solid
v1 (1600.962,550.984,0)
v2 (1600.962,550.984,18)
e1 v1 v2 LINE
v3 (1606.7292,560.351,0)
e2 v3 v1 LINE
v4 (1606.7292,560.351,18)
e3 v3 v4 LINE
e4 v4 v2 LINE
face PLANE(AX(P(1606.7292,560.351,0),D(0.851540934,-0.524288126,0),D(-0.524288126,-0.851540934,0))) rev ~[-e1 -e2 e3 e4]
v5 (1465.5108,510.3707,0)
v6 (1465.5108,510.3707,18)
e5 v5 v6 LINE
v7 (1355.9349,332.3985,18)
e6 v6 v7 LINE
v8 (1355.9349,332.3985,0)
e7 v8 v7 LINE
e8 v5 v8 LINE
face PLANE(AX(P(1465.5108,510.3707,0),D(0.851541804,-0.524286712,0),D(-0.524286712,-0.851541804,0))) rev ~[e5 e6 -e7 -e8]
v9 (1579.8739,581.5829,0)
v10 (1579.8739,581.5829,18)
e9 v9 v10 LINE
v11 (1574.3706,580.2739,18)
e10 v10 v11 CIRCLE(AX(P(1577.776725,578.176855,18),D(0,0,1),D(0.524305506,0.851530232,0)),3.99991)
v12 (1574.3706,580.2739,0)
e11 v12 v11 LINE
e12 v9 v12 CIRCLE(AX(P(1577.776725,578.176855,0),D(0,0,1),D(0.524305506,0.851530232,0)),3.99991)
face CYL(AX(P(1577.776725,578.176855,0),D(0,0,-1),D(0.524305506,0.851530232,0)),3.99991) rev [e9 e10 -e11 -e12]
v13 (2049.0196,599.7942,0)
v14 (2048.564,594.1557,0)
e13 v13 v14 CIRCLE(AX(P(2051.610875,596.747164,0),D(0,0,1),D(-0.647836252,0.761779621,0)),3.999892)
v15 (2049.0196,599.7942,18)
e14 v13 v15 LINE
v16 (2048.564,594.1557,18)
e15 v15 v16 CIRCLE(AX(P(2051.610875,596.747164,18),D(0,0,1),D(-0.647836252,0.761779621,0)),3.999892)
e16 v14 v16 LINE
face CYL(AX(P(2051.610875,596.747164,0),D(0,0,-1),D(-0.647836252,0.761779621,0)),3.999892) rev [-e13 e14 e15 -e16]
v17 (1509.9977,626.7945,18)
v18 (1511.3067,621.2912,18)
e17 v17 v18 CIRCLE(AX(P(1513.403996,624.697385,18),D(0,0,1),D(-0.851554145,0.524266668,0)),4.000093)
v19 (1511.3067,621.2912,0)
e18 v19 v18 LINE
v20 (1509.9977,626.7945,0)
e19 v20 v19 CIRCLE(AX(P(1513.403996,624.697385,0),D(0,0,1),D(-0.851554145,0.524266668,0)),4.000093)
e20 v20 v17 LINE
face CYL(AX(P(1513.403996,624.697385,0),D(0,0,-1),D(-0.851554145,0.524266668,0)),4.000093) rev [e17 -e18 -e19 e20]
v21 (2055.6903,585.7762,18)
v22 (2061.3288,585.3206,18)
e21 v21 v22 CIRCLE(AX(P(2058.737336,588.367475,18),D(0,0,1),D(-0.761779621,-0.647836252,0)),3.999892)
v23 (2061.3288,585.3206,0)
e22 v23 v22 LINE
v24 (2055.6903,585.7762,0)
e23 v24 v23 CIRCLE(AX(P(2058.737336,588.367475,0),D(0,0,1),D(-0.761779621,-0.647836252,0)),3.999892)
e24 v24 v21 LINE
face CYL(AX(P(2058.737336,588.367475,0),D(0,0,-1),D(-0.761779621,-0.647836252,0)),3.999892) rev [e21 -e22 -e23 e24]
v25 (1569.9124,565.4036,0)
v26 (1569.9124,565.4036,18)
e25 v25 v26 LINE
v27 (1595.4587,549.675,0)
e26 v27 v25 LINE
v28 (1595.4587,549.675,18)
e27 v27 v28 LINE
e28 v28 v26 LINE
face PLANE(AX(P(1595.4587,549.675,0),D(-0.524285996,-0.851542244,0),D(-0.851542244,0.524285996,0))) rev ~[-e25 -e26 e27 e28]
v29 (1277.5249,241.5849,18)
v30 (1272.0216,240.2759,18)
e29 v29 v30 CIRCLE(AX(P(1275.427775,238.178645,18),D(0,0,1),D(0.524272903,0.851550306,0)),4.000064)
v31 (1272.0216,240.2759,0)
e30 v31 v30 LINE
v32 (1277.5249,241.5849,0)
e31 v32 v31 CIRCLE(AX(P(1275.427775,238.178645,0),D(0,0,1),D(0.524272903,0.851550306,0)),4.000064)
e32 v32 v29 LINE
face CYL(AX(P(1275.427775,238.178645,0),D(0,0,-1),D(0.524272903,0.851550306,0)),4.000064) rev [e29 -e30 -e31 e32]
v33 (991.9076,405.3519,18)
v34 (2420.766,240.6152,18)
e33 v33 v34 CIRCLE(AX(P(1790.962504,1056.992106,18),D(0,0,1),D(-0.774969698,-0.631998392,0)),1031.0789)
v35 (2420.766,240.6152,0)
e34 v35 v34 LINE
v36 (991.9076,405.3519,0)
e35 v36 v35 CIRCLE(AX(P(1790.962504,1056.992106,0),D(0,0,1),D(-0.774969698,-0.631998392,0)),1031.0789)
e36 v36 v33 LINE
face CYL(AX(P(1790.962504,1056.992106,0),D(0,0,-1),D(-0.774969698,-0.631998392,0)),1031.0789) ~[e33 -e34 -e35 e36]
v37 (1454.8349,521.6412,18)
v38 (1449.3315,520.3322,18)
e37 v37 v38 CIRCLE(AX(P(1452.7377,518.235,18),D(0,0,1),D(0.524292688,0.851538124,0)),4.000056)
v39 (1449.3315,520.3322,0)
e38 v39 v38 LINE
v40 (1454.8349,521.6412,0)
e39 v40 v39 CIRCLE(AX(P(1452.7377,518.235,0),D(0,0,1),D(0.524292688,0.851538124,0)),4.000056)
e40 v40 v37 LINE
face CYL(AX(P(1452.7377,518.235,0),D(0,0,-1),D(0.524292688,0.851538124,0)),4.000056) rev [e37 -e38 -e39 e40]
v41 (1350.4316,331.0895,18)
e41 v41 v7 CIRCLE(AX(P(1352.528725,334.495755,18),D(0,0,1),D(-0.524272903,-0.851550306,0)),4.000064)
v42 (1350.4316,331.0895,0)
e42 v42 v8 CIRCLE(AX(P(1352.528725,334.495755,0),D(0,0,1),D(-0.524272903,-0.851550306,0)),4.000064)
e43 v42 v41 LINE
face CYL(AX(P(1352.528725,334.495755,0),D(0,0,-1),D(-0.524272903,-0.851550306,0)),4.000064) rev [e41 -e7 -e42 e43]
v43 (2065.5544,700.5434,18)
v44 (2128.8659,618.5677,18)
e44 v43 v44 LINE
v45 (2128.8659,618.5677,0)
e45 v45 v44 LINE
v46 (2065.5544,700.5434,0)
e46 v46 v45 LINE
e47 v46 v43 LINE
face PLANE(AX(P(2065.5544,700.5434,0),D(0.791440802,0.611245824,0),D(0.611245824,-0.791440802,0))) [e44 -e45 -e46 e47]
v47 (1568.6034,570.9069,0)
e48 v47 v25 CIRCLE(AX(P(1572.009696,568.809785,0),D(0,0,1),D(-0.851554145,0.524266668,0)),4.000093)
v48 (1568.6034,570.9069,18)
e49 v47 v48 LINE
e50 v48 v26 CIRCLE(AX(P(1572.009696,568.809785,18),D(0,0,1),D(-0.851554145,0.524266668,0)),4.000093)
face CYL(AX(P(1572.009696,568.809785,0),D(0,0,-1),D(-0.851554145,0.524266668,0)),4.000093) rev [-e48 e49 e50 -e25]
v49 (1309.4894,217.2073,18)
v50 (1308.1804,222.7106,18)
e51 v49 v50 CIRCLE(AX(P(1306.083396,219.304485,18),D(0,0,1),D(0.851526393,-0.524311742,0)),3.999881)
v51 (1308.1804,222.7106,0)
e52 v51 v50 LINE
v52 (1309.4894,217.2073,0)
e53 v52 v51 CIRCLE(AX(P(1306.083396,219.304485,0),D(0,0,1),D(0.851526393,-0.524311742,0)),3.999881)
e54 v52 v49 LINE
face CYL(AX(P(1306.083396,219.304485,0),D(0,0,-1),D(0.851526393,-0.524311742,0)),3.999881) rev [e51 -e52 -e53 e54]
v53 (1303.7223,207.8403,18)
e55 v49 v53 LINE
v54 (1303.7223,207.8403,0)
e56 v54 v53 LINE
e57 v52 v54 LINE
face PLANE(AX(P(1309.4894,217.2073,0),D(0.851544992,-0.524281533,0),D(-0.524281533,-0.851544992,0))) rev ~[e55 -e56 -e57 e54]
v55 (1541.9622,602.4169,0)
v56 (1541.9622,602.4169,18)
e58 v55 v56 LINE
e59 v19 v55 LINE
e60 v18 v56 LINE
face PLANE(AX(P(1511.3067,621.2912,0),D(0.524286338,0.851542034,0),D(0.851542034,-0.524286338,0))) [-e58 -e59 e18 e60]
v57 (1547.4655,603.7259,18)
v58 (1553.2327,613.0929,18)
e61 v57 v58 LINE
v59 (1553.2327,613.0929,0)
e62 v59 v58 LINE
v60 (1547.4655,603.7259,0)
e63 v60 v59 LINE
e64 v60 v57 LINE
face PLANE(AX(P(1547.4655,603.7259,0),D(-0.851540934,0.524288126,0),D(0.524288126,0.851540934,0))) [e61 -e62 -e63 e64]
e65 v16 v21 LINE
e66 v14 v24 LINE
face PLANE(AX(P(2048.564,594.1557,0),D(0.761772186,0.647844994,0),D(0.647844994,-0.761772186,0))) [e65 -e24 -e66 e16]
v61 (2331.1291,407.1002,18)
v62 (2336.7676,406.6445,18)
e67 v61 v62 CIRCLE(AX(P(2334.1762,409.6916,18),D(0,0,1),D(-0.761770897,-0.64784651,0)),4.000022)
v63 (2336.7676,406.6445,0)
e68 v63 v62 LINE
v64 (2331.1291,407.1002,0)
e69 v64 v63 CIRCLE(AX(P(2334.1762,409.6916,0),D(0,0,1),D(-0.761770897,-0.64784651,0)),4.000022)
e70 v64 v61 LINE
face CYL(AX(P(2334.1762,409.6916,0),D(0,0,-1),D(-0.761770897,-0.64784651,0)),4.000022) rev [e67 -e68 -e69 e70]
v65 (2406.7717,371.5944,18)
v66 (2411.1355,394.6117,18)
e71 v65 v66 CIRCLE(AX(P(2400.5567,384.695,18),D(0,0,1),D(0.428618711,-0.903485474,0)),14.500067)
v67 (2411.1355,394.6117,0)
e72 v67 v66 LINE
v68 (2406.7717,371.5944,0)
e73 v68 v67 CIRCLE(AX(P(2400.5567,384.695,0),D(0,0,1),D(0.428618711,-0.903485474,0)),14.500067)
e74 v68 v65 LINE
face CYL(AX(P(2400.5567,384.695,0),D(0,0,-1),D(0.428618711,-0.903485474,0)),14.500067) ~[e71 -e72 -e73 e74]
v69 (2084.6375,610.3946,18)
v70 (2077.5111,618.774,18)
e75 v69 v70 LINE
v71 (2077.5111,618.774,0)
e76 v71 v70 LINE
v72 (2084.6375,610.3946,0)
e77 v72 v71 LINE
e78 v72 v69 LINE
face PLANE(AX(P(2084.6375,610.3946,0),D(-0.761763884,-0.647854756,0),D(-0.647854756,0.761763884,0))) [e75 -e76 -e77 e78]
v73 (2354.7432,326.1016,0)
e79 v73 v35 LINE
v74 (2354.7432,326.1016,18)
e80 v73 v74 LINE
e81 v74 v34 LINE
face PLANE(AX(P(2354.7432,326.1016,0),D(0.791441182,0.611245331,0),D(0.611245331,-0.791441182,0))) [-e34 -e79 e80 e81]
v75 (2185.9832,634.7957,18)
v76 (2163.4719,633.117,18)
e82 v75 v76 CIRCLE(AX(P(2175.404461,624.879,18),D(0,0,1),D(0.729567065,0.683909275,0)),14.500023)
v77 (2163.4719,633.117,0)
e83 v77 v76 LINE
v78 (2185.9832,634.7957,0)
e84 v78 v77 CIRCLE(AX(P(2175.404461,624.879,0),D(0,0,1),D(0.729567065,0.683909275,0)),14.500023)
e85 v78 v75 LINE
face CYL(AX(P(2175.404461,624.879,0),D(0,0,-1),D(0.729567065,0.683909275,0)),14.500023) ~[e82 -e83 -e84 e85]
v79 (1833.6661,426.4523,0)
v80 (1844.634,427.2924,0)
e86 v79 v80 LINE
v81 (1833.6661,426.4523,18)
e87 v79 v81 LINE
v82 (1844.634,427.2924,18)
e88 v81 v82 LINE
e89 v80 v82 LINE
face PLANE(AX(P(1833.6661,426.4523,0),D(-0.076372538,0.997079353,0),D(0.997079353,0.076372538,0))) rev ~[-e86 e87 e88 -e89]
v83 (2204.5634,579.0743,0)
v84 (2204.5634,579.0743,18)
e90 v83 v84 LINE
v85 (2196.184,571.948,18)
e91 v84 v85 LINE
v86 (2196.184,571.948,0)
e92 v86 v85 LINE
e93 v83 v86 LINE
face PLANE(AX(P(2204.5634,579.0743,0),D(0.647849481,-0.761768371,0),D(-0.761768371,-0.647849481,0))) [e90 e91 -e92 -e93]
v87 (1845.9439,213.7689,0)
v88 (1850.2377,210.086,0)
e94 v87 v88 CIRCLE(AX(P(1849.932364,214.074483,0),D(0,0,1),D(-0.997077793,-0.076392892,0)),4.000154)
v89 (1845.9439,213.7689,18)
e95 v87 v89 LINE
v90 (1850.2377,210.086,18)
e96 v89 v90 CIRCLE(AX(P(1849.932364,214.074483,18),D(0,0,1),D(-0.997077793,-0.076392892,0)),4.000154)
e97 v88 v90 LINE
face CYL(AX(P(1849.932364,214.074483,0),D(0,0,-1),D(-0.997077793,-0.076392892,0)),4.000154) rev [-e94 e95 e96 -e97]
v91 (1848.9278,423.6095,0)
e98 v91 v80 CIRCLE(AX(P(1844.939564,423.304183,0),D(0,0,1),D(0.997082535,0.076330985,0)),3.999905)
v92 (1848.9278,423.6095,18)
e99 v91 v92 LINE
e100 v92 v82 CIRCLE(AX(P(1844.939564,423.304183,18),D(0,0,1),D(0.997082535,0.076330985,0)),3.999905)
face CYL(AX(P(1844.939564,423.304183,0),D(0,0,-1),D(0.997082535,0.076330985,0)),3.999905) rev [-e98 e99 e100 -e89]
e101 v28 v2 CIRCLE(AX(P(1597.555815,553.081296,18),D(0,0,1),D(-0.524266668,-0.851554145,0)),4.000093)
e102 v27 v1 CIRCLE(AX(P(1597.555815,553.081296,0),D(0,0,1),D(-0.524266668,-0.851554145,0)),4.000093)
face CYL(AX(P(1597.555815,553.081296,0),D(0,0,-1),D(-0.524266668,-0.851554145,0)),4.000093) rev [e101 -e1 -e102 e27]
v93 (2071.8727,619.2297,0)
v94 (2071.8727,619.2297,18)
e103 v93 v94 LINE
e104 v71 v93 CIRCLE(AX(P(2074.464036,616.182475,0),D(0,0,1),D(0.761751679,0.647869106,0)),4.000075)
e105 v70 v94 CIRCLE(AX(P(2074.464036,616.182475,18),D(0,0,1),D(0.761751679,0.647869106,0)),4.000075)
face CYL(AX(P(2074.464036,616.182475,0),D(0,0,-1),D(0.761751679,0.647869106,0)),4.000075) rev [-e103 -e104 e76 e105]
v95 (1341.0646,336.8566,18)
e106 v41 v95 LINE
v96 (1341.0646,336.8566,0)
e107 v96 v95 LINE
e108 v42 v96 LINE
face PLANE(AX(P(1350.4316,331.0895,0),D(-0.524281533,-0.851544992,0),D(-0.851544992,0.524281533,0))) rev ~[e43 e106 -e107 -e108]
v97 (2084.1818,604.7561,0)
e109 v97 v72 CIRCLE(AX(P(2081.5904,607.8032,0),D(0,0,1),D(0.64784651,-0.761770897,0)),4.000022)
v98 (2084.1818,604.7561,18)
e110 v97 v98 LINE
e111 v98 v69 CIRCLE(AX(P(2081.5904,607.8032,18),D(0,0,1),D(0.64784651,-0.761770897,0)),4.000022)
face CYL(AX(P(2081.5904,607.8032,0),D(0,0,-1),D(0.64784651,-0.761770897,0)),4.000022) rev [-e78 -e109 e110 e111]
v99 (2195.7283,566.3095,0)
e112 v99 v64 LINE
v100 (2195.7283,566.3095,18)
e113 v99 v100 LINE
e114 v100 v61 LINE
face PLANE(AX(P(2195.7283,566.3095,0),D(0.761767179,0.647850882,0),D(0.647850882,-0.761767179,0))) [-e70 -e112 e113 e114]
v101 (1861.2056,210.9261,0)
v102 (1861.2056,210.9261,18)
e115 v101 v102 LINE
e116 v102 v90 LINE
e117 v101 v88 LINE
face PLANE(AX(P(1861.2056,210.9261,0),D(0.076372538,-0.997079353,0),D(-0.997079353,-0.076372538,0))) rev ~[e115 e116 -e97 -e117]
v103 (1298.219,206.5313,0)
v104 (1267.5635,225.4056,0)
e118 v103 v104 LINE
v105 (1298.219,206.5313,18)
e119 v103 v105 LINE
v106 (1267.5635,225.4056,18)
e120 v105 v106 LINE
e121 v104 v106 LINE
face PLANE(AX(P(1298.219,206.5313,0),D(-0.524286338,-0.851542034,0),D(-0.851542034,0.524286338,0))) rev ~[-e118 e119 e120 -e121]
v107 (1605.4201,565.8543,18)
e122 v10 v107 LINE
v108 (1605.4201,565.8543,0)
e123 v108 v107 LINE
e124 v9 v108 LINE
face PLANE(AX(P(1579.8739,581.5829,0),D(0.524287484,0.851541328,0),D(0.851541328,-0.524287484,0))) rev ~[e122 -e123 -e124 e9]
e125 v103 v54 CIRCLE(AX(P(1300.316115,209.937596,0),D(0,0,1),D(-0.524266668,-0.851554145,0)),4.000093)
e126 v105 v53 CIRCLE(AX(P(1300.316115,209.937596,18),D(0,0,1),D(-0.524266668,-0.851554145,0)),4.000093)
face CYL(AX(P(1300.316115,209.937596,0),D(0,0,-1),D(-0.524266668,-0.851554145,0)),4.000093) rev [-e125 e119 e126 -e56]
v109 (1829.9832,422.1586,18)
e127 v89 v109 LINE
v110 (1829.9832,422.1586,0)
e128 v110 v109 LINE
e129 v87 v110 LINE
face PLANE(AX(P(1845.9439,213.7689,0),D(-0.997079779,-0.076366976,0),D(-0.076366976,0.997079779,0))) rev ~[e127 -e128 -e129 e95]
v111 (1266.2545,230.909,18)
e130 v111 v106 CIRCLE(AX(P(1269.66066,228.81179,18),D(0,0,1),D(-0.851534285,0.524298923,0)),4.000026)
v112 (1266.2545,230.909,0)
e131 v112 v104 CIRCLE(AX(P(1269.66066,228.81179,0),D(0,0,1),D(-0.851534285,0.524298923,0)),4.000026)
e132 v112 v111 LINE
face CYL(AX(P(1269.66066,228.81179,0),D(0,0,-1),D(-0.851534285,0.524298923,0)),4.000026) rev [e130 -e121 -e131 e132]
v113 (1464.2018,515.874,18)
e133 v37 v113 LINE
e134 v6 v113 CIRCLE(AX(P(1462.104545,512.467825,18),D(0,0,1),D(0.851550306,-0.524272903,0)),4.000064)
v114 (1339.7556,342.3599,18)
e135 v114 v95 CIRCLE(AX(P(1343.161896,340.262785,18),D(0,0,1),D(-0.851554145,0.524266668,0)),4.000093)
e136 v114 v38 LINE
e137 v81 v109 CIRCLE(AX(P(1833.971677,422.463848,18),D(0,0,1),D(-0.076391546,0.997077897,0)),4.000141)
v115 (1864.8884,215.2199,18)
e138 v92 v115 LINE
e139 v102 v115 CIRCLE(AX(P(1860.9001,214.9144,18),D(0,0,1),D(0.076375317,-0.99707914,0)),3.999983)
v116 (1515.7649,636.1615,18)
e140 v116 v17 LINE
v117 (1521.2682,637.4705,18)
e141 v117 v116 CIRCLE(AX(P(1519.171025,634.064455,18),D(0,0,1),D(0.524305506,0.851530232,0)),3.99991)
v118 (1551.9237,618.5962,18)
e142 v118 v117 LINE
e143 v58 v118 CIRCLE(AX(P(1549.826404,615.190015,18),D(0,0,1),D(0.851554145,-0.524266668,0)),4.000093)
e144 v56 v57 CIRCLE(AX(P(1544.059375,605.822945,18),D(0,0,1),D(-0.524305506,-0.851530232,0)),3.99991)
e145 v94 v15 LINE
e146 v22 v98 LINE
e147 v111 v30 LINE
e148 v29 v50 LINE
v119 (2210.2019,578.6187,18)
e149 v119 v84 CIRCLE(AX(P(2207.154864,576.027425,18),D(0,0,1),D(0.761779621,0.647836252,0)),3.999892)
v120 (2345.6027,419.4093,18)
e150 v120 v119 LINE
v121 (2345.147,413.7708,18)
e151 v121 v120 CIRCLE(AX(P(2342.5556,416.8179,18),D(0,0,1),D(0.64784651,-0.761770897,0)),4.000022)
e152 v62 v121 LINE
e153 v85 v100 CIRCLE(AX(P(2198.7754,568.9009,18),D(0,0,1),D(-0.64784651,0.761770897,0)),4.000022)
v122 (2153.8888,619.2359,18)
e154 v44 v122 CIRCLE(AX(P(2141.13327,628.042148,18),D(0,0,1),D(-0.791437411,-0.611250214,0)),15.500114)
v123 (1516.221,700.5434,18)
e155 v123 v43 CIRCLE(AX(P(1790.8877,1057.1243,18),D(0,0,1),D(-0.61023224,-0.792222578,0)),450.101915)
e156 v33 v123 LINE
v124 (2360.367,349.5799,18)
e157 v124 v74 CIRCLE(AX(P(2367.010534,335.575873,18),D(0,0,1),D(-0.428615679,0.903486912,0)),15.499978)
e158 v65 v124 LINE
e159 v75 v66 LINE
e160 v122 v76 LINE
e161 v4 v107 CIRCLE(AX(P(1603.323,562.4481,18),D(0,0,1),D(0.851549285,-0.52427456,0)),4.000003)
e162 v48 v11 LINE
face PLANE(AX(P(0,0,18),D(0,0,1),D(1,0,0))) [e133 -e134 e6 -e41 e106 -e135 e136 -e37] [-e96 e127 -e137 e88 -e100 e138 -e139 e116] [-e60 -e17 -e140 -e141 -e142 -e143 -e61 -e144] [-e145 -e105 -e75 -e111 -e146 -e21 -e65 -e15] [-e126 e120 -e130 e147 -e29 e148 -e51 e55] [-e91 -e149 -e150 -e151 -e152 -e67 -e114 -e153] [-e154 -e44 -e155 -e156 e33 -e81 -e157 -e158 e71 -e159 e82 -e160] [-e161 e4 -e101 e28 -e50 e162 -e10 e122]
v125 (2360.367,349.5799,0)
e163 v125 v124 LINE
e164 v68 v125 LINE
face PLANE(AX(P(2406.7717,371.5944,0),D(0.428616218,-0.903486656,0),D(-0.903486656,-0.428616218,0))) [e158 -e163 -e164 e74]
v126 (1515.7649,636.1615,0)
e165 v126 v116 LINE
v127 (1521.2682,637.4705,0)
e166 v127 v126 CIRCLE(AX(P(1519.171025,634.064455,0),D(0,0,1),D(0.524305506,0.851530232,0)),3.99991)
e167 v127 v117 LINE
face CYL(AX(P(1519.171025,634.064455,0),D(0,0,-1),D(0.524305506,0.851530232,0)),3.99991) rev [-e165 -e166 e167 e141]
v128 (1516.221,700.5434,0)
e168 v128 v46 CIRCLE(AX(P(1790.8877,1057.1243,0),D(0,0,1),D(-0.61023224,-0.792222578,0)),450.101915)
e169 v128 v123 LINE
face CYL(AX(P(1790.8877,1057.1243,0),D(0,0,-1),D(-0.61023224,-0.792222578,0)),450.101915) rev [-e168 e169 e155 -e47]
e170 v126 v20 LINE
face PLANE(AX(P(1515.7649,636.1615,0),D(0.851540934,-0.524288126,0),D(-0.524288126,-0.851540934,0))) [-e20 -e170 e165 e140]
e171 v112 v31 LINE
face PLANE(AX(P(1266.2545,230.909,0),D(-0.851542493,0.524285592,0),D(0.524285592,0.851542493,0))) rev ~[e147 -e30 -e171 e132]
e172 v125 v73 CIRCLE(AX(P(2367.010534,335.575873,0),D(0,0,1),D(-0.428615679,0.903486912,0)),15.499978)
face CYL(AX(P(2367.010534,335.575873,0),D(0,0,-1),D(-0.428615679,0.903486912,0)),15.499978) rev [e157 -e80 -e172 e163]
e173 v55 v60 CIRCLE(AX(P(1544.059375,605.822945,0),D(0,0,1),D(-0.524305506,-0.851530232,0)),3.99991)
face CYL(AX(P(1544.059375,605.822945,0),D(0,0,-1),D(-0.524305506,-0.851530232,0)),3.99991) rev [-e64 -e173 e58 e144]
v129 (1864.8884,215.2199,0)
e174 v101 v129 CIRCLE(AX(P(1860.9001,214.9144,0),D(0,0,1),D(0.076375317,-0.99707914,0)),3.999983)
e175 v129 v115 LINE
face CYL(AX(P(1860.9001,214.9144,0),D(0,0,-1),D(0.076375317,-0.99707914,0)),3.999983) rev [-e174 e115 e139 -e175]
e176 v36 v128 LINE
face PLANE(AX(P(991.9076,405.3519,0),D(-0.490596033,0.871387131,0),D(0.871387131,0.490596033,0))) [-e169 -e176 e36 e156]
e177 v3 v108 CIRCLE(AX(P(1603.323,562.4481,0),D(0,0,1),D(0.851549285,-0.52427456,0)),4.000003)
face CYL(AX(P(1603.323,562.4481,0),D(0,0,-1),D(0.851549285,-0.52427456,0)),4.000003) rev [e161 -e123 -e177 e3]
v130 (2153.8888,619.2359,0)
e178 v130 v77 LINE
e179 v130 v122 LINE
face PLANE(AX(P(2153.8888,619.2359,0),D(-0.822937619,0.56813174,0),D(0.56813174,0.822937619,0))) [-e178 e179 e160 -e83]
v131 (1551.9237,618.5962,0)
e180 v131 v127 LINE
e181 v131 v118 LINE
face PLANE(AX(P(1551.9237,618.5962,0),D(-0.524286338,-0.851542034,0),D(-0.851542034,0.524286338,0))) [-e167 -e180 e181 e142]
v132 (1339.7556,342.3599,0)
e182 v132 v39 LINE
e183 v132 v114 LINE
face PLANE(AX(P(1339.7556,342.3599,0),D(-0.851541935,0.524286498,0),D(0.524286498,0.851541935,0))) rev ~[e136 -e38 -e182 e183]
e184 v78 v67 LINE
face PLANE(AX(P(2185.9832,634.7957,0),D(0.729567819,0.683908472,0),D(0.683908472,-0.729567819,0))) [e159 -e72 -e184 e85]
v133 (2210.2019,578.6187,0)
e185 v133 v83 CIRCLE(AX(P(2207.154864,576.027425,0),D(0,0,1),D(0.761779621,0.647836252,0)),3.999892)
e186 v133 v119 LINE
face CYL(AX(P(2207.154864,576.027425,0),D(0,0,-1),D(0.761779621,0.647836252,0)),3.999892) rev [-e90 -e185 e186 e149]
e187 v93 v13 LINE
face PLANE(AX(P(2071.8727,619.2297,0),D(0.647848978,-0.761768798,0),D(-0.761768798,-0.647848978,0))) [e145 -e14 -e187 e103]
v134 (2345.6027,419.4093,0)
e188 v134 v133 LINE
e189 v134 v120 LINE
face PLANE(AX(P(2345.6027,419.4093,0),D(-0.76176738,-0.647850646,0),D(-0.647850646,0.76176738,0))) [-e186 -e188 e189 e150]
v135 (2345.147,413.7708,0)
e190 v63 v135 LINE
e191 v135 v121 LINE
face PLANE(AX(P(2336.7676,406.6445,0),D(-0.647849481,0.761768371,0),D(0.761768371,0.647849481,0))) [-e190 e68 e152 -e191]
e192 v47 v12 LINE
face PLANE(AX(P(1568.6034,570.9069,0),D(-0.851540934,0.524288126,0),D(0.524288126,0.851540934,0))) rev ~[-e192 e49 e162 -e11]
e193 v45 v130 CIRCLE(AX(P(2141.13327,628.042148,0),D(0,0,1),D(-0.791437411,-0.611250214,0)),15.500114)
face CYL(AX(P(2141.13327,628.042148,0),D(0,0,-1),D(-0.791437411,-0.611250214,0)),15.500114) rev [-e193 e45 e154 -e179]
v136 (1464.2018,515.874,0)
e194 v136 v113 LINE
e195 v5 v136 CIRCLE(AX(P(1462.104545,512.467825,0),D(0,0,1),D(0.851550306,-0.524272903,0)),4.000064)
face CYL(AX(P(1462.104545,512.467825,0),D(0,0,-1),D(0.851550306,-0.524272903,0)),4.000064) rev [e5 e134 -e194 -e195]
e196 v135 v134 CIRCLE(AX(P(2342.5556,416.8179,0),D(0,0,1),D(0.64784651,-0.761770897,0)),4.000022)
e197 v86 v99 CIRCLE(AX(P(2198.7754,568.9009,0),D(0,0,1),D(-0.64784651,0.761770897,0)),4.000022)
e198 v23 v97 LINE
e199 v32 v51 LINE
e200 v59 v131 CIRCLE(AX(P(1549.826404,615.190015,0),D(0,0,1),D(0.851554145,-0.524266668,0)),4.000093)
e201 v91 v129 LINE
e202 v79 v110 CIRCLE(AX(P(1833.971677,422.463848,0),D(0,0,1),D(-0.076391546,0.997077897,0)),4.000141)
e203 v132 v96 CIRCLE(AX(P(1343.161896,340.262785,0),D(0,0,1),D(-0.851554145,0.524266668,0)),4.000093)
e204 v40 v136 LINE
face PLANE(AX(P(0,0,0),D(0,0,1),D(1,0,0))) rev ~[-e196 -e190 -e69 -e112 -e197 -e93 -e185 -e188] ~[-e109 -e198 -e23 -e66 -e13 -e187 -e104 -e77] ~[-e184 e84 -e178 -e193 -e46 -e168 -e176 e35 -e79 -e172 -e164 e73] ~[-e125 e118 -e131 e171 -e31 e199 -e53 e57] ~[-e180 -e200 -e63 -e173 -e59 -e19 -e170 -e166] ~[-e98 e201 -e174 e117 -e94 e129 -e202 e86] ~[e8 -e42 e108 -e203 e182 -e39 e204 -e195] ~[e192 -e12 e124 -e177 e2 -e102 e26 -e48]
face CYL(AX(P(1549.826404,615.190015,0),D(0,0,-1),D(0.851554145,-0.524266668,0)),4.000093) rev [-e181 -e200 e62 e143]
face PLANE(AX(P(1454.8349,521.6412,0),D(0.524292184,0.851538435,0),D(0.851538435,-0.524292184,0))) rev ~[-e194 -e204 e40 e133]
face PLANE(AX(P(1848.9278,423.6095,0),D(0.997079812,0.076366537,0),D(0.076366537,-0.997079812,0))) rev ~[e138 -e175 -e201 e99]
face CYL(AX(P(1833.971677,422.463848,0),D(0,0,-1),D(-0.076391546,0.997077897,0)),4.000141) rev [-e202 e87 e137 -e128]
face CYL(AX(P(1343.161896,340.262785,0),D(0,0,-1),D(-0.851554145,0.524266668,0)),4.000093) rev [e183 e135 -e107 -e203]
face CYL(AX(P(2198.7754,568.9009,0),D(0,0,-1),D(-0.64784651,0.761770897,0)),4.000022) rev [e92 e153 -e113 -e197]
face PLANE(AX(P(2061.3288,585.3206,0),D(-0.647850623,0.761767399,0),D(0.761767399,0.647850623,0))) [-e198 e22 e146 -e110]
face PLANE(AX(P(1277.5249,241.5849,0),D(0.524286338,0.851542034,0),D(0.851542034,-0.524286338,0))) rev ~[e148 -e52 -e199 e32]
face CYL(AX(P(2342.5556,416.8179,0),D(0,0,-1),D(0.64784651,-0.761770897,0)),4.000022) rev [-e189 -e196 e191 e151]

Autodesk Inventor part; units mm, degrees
ref_plane "YZ Plane" through (0, 0, 0) normal (1, 0, 0) x (0, 1, 0)
ref_plane "XZ Plane" through (0, 0, 0) normal (0, 1, 0) x (-1, 0, 0)
ref_plane "XY Plane" through (0, 0, 0) normal (0, 0, 1) x (1, 0, 0)
sketch "CONTOURS" plane through (0, 0, 0) normal (0, 0, 1) x (1, 0, 0)
  line L0 (2153.8888, 619.2359) -> (2163.4719, 633.117)
  arc A0 (2185.9832, 634.7957) -> (2163.4719, 633.117) centre (2175.4045, 624.8791) ccw
  line L1 (2185.9832, 634.7957) -> (2411.1355, 394.6117)
  arc A1 (2406.7717, 371.5944) -> (2411.1355, 394.6117) centre (2400.5567, 384.695) ccw
  line L2 (2406.7717, 371.5944) -> (2360.367, 349.5799)
  arc A2 (2360.367, 349.5799) -> (2354.7432, 326.1016) centre (2367.0105, 335.5759) ccw
  line L3 (2354.7432, 326.1016) -> (2420.766, 240.6152)
  arc A3 (991.9076, 405.3519) -> (2420.766, 240.6152) centre (1790.9625, 1056.9921) ccw
  line L4 (991.9076, 405.3519) -> (1516.221, 700.5434)
  arc A4 (1516.221, 700.5434) -> (2065.5544, 700.5434) centre (1790.8877, 1057.1243) ccw
  line L5 (2065.5544, 700.5434) -> (2128.8659, 618.5677)
  arc A5 (2128.8659, 618.5677) -> (2153.8888, 619.2359) centre (2141.1332, 628.042) ccw
sketch "HOLES" plane through (0, 0, 0) normal (0, 0, 1) x (1, 0, 0)
  arc A0 (1449.9335, 932.975) -> (1455.5442, 933.6958) centre (1452.3785, 936.1408) ccw
  line L0 (1449.9335, 932.975) -> (1421.4416, 954.9799)
  arc A1 (1420.7208, 960.5906) -> (1421.4416, 954.9799) centre (1423.8866, 958.1456) ccw
  line L1 (1420.7208, 960.5906) -> (1427.4445, 969.2965)
  arc A2 (1433.0553, 970.0172) -> (1427.4445, 969.2965) centre (1430.6103, 966.8515) ccw
  line L2 (1433.0553, 970.0172) -> (1461.5471, 948.0124)
  arc A3 (1462.2679, 942.4017) -> (1461.5471, 948.0124) centre (1459.1022, 944.8467) ccw
  line L3 (581.1233, 599.0223) -> (574.9213, 608.1072)
  arc A4 (574.9213, 608.1072) -> (569.3624, 609.1555) centre (571.6177, 605.8519) ccw
  line L4 (569.3624, 609.1555) -> (539.6301, 588.858)
  arc A5 (539.6301, 588.858) -> (538.5818, 583.2991) centre (541.8854, 585.5544) ccw
  line L5 (538.5818, 583.2991) -> (544.7838, 574.2142)
  arc A6 (544.7838, 574.2142) -> (550.3427, 573.1659) centre (548.0874, 576.4695) ccw
  line L6 (550.3427, 573.1659) -> (580.075, 593.4634)
  arc A7 (580.075, 593.4634) -> (581.1233, 599.0223) centre (577.8197, 596.767) ccw
  line L7 (1171.3736, 565.7512) -> (1178.0973, 574.4571)
  arc A8 (1178.0973, 574.4571) -> (1177.3765, 580.0678) centre (1174.9316, 576.9021) ccw
  line L8 (1177.3765, 580.0678) -> (1148.8847, 602.0727)
  arc A9 (1148.8847, 602.0727) -> (1143.2739, 601.3519) centre (1146.4397, 598.9069) ccw
  line L9 (1143.2739, 601.3519) -> (1136.5502, 592.646)
  arc A10 (1136.5502, 592.646) -> (1137.271, 587.0353) centre (1139.716, 590.201) ccw
  line L10 (1137.271, 587.0353) -> (1165.7629, 565.0304)
  arc A11 (1165.7629, 565.0304) -> (1171.3736, 565.7512) centre (1168.2079, 568.1962) ccw
  line L11 (312.7987, 992.0706) -> (319.0007, 982.9857)
  arc A12 (317.9524, 977.4269) -> (319.0007, 982.9857) centre (315.6972, 980.7305) ccw
  line L12 (317.9524, 977.4269) -> (288.2201, 957.1293)
  arc A13 (282.6613, 958.1776) -> (288.2201, 957.1293) centre (285.9648, 960.4329) ccw
  line L13 (282.6613, 958.1776) -> (276.4592, 967.2625)
  arc A14 (277.5075, 972.8214) -> (276.4592, 967.2625) centre (279.7628, 969.5178) ccw
  line L14 (277.5075, 972.8214) -> (307.2399, 993.1189)
  arc A15 (312.7987, 992.0706) -> (307.2399, 993.1189) centre (309.4951, 989.8153) ccw
  arc A16 (877.4586, 807.9096) -> (881.5741, 811.7907) centre (877.5758, 811.9079) ccw
  line L15 (881.5741, 811.7907) -> (887.6999, 1020.7009)
  arc A17 (887.6999, 1020.7009) -> (883.8189, 1024.8164) centre (883.7016, 1020.8181) ccw
  line L16 (883.8189, 1024.8164) -> (872.8236, 1025.1388)
  arc A18 (872.8236, 1025.1388) -> (868.7081, 1021.2578) centre (872.7064, 1021.1405) ccw
  line L17 (868.7081, 1021.2578) -> (862.5822, 812.3476)
  arc A19 (862.5822, 812.3476) -> (866.4633, 808.232) centre (866.5805, 812.2303) ccw
  line L18 (866.4633, 808.232) -> (877.4586, 807.9096)
  arc A20 (370.076, 874.2818) -> (369.0277, 868.7229) centre (372.3312, 870.9782) ccw
  line L19 (369.0277, 868.7229) -> (486.8661, 696.1104)
  arc A21 (486.8661, 696.1104) -> (492.425, 695.062) centre (490.1697, 698.3656) ccw
  line L20 (492.425, 695.062) -> (501.5098, 701.2641)
  arc A22 (501.5098, 701.2641) -> (502.5581, 706.8229) centre (499.2546, 704.5677) ccw
  line L21 (502.5581, 706.8229) -> (384.7197, 879.4355)
  arc A23 (384.7197, 879.4355) -> (379.1608, 880.4838) centre (381.4161, 877.1802) ccw
  line L22 (379.1608, 880.4838) -> (370.076, 874.2818)
  line L23 (1833.6661, 426.4523) -> (1844.634, 427.2924)
  arc A24 (1833.6661, 426.4523) -> (1829.9832, 422.1586) centre (1833.9716, 422.464) ccw
  line L24 (1845.9439, 213.7689) -> (1829.9832, 422.1586)
  arc A25 (1101.2975, 659.9143) -> (1095.6868, 659.1936) centre (1098.8525, 656.7486) ccw
  arc A26 (1845.9439, 213.7689) -> (1850.2377, 210.086) centre (1849.9322, 214.0744) ccw
  arc A27 (2077.5111, 618.774) -> (2071.8727, 619.2297) centre (2074.4641, 616.1826) ccw
  line L25 (620.0838, 641.0058) -> (644.8608, 657.9204)
  arc A28 (644.8608, 657.9204) -> (645.9091, 663.4793) centre (642.6055, 661.224) ccw
  line L26 (645.9091, 663.4793) -> (639.707, 672.5642)
  arc A29 (639.707, 672.5642) -> (634.1482, 673.6125) centre (636.4035, 670.3089) ccw
  line L27 (634.1482, 673.6125) -> (609.3712, 656.6979)
  arc A30 (609.3712, 656.6979) -> (608.3229, 651.139) centre (611.6265, 653.3943) ccw
  line L28 (608.3229, 651.139) -> (614.525, 642.0541)
  arc A31 (614.525, 642.0541) -> (620.0838, 641.0058) centre (617.8286, 644.3094) ccw
  line L29 (1089.6839, 644.877) -> (1113.4271, 626.5396)
  arc A32 (1113.4271, 626.5396) -> (1119.0379, 627.2604) centre (1115.8721, 629.7054) ccw
  line L30 (1119.0379, 627.2604) -> (1125.7616, 635.9662)
  arc A33 (1125.7616, 635.9662) -> (1125.0408, 641.577) centre (1122.5958, 638.4112) ccw
  line L31 (1125.0408, 641.577) -> (1101.2975, 659.9143)
  arc A34 (1553.2327, 613.0929) -> (1551.9237, 618.5962) centre (1549.8265, 615.19) ccw
  line L32 (1095.6868, 659.1936) -> (1088.9631, 650.4877)
  arc A35 (1088.9631, 650.4877) -> (1089.6839, 644.877) centre (1092.1288, 648.0427) ccw
  line L33 (1266.2545, 230.909) -> (1272.0216, 240.2759)
  arc A36 (1277.5249, 241.5849) -> (1272.0216, 240.2759) centre (1275.4278, 238.1788) ccw
  line L34 (1277.5249, 241.5849) -> (1308.1804, 222.7106)
  arc A37 (1309.4894, 217.2073) -> (1308.1804, 222.7106) centre (1306.0833, 219.3045) ccw
  line L35 (1309.4894, 217.2073) -> (1303.7223, 207.8403)
  arc A38 (1298.219, 206.5313) -> (1303.7223, 207.8403) centre (1300.3161, 209.9375) ccw
  line L36 (1298.219, 206.5313) -> (1267.5635, 225.4056)
  arc A39 (1266.2545, 230.909) -> (1267.5635, 225.4056) centre (1269.6606, 228.8118) ccw
  line L37 (1515.7649, 636.1615) -> (1509.9977, 626.7945)
  arc A40 (1509.9977, 626.7945) -> (1511.3067, 621.2912) centre (1513.4039, 624.6974) ccw
  line L38 (1511.3067, 621.2912) -> (1541.9622, 602.4169)
  arc A41 (1541.9622, 602.4169) -> (1547.4655, 603.7259) centre (1544.0594, 605.8231) ccw
  line L39 (1547.4655, 603.7259) -> (1553.2327, 613.0929)
  line L40 (1551.9237, 618.5962) -> (1521.2682, 637.4705)
  arc A42 (1521.2682, 637.4705) -> (1515.7649, 636.1615) centre (1519.171, 634.0643) ccw
  line L41 (2048.564, 594.1557) -> (2055.6903, 585.7762)
  arc A43 (2055.6903, 585.7762) -> (2061.3288, 585.3206) centre (2058.7374, 588.3676) ccw
  line L42 (2061.3288, 585.3206) -> (2084.1818, 604.7561)
  arc A44 (2084.1818, 604.7561) -> (2084.6375, 610.3946) centre (2081.5904, 607.8032) ccw
  line L43 (2084.6375, 610.3946) -> (2077.5111, 618.774)
  line L44 (2071.8727, 619.2297) -> (2049.0196, 599.7942)
  arc A45 (2049.0196, 599.7942) -> (2048.564, 594.1557) centre (2051.611, 596.7471) ccw
  arc A46 (2196.184, 571.948) -> (2195.7283, 566.3095) centre (2198.7754, 568.9009) ccw
  line L45 (2195.7283, 566.3095) -> (2331.1291, 407.1002)
  arc A47 (2331.1291, 407.1002) -> (2336.7676, 406.6445) centre (2334.1762, 409.6916) ccw
  line L46 (2336.7676, 406.6445) -> (2345.147, 413.7708)
  arc A48 (2345.147, 413.7708) -> (2345.6027, 419.4093) centre (2342.5556, 416.8179) ccw
  line L47 (2345.6027, 419.4093) -> (2210.2019, 578.6187)
  arc A49 (2210.2019, 578.6187) -> (2204.5634, 579.0743) centre (2207.1548, 576.0273) ccw
  line L48 (2204.5634, 579.0743) -> (2196.184, 571.948)
  arc A50 (1339.7556, 342.3599) -> (1341.0646, 336.8566) centre (1343.1618, 340.2628) ccw
  line L49 (1339.7556, 342.3599) -> (1449.3315, 520.3322)
  arc A51 (1454.8349, 521.6412) -> (1449.3315, 520.3322) centre (1452.7377, 518.235) ccw
  line L50 (1454.8349, 521.6412) -> (1464.2018, 515.874)
  arc A52 (1465.5108, 510.3707) -> (1464.2018, 515.874) centre (1462.1047, 512.4678) ccw
  line L51 (1465.5108, 510.3707) -> (1355.9349, 332.3985)
  arc A53 (1350.4316, 331.0895) -> (1355.9349, 332.3985) centre (1352.5287, 334.4956) ccw
  line L52 (1350.4316, 331.0895) -> (1341.0646, 336.8566)
  line L53 (1462.2679, 942.4017) -> (1455.5442, 933.6958)
  arc A54 (1606.7292, 560.351) -> (1605.4201, 565.8543) centre (1603.323, 562.4481) ccw
  line L54 (1579.8739, 581.5829) -> (1605.4201, 565.8543)
  arc A55 (1579.8739, 581.5829) -> (1574.3706, 580.2739) centre (1577.7767, 578.1767) ccw
  line L55 (1568.6034, 570.9069) -> (1574.3706, 580.2739)
  arc A56 (1568.6034, 570.9069) -> (1569.9124, 565.4036) centre (1572.0096, 568.8098) ccw
  line L56 (1595.4587, 549.675) -> (1569.9124, 565.4036)
  arc A57 (1595.4587, 549.675) -> (1600.962, 550.984) centre (1597.5558, 553.0812) ccw
  line L57 (1606.7292, 560.351) -> (1600.962, 550.984)
  line L58 (1861.2056, 210.9261) -> (1850.2377, 210.086)
  arc A58 (1861.2056, 210.9261) -> (1864.8884, 215.2199) centre (1860.9001, 214.9144) ccw
  line L59 (1848.9278, 423.6095) -> (1864.8884, 215.2199)
  arc A59 (1848.9278, 423.6095) -> (1844.634, 427.2924) centre (1844.9394, 423.3041) ccw
  dimension "d13" = 122.5342
  dimension "d15" = 116.3458
  dimension "d17" = 116.3234
  dimension "d19" = 19
  dimension "d21" = 122.5114
  dimension "d23" = 30
  dimension "d25" = 36
  dimension "d27" = 36
  dimension "d29" = 29
sketch "LETTERS" plane through (0, 0, 0) normal (0, 0, 1) x (1, 0, 0)
  line L0 (1512.6274, 378.3219) -> (1504.8915, 360.2317)
  line L1 (1504.8915, 360.2317) -> (1513.0744, 356.7244)
  arc A0 (1517.2734, 366.5323) -> (1520.8186, 374.8004) centre (1519.042, 370.668) ccw
  line L2 (1517.2734, 366.5323) -> (1509.1534, 370.0046)
  arc A1 (1513.0744, 356.7244) -> (1517.2734, 366.5323) centre (1515.1759, 361.6275) ccw
  line L3 (1520.8186, 374.8004) -> (1512.6274, 378.3219)
extrude "Extrusion2" add sketch "CONTOURS" along normal blind 18
extrude "Extrusion3" cut sketch "HOLES" along normal blind 18 contours L23 A59 L59 A58 L58 A26 L24 A24 | L43 A44 L42 A43 L41 A45 L44 A27 | L39 A41 L38 A40 L37 A42 L40 A34 | L33 A36 L34 A37 L35 A38 L36 A39 | L48 A49 L47 A48 L46 A47 L45 A46 | L49 A51 L50 A52 L51 A53 L52 A50 | L57 A57 L56 A56 L55 A55 L54 A54
properties part number "Platform B1" material "Wood (Birch)"
